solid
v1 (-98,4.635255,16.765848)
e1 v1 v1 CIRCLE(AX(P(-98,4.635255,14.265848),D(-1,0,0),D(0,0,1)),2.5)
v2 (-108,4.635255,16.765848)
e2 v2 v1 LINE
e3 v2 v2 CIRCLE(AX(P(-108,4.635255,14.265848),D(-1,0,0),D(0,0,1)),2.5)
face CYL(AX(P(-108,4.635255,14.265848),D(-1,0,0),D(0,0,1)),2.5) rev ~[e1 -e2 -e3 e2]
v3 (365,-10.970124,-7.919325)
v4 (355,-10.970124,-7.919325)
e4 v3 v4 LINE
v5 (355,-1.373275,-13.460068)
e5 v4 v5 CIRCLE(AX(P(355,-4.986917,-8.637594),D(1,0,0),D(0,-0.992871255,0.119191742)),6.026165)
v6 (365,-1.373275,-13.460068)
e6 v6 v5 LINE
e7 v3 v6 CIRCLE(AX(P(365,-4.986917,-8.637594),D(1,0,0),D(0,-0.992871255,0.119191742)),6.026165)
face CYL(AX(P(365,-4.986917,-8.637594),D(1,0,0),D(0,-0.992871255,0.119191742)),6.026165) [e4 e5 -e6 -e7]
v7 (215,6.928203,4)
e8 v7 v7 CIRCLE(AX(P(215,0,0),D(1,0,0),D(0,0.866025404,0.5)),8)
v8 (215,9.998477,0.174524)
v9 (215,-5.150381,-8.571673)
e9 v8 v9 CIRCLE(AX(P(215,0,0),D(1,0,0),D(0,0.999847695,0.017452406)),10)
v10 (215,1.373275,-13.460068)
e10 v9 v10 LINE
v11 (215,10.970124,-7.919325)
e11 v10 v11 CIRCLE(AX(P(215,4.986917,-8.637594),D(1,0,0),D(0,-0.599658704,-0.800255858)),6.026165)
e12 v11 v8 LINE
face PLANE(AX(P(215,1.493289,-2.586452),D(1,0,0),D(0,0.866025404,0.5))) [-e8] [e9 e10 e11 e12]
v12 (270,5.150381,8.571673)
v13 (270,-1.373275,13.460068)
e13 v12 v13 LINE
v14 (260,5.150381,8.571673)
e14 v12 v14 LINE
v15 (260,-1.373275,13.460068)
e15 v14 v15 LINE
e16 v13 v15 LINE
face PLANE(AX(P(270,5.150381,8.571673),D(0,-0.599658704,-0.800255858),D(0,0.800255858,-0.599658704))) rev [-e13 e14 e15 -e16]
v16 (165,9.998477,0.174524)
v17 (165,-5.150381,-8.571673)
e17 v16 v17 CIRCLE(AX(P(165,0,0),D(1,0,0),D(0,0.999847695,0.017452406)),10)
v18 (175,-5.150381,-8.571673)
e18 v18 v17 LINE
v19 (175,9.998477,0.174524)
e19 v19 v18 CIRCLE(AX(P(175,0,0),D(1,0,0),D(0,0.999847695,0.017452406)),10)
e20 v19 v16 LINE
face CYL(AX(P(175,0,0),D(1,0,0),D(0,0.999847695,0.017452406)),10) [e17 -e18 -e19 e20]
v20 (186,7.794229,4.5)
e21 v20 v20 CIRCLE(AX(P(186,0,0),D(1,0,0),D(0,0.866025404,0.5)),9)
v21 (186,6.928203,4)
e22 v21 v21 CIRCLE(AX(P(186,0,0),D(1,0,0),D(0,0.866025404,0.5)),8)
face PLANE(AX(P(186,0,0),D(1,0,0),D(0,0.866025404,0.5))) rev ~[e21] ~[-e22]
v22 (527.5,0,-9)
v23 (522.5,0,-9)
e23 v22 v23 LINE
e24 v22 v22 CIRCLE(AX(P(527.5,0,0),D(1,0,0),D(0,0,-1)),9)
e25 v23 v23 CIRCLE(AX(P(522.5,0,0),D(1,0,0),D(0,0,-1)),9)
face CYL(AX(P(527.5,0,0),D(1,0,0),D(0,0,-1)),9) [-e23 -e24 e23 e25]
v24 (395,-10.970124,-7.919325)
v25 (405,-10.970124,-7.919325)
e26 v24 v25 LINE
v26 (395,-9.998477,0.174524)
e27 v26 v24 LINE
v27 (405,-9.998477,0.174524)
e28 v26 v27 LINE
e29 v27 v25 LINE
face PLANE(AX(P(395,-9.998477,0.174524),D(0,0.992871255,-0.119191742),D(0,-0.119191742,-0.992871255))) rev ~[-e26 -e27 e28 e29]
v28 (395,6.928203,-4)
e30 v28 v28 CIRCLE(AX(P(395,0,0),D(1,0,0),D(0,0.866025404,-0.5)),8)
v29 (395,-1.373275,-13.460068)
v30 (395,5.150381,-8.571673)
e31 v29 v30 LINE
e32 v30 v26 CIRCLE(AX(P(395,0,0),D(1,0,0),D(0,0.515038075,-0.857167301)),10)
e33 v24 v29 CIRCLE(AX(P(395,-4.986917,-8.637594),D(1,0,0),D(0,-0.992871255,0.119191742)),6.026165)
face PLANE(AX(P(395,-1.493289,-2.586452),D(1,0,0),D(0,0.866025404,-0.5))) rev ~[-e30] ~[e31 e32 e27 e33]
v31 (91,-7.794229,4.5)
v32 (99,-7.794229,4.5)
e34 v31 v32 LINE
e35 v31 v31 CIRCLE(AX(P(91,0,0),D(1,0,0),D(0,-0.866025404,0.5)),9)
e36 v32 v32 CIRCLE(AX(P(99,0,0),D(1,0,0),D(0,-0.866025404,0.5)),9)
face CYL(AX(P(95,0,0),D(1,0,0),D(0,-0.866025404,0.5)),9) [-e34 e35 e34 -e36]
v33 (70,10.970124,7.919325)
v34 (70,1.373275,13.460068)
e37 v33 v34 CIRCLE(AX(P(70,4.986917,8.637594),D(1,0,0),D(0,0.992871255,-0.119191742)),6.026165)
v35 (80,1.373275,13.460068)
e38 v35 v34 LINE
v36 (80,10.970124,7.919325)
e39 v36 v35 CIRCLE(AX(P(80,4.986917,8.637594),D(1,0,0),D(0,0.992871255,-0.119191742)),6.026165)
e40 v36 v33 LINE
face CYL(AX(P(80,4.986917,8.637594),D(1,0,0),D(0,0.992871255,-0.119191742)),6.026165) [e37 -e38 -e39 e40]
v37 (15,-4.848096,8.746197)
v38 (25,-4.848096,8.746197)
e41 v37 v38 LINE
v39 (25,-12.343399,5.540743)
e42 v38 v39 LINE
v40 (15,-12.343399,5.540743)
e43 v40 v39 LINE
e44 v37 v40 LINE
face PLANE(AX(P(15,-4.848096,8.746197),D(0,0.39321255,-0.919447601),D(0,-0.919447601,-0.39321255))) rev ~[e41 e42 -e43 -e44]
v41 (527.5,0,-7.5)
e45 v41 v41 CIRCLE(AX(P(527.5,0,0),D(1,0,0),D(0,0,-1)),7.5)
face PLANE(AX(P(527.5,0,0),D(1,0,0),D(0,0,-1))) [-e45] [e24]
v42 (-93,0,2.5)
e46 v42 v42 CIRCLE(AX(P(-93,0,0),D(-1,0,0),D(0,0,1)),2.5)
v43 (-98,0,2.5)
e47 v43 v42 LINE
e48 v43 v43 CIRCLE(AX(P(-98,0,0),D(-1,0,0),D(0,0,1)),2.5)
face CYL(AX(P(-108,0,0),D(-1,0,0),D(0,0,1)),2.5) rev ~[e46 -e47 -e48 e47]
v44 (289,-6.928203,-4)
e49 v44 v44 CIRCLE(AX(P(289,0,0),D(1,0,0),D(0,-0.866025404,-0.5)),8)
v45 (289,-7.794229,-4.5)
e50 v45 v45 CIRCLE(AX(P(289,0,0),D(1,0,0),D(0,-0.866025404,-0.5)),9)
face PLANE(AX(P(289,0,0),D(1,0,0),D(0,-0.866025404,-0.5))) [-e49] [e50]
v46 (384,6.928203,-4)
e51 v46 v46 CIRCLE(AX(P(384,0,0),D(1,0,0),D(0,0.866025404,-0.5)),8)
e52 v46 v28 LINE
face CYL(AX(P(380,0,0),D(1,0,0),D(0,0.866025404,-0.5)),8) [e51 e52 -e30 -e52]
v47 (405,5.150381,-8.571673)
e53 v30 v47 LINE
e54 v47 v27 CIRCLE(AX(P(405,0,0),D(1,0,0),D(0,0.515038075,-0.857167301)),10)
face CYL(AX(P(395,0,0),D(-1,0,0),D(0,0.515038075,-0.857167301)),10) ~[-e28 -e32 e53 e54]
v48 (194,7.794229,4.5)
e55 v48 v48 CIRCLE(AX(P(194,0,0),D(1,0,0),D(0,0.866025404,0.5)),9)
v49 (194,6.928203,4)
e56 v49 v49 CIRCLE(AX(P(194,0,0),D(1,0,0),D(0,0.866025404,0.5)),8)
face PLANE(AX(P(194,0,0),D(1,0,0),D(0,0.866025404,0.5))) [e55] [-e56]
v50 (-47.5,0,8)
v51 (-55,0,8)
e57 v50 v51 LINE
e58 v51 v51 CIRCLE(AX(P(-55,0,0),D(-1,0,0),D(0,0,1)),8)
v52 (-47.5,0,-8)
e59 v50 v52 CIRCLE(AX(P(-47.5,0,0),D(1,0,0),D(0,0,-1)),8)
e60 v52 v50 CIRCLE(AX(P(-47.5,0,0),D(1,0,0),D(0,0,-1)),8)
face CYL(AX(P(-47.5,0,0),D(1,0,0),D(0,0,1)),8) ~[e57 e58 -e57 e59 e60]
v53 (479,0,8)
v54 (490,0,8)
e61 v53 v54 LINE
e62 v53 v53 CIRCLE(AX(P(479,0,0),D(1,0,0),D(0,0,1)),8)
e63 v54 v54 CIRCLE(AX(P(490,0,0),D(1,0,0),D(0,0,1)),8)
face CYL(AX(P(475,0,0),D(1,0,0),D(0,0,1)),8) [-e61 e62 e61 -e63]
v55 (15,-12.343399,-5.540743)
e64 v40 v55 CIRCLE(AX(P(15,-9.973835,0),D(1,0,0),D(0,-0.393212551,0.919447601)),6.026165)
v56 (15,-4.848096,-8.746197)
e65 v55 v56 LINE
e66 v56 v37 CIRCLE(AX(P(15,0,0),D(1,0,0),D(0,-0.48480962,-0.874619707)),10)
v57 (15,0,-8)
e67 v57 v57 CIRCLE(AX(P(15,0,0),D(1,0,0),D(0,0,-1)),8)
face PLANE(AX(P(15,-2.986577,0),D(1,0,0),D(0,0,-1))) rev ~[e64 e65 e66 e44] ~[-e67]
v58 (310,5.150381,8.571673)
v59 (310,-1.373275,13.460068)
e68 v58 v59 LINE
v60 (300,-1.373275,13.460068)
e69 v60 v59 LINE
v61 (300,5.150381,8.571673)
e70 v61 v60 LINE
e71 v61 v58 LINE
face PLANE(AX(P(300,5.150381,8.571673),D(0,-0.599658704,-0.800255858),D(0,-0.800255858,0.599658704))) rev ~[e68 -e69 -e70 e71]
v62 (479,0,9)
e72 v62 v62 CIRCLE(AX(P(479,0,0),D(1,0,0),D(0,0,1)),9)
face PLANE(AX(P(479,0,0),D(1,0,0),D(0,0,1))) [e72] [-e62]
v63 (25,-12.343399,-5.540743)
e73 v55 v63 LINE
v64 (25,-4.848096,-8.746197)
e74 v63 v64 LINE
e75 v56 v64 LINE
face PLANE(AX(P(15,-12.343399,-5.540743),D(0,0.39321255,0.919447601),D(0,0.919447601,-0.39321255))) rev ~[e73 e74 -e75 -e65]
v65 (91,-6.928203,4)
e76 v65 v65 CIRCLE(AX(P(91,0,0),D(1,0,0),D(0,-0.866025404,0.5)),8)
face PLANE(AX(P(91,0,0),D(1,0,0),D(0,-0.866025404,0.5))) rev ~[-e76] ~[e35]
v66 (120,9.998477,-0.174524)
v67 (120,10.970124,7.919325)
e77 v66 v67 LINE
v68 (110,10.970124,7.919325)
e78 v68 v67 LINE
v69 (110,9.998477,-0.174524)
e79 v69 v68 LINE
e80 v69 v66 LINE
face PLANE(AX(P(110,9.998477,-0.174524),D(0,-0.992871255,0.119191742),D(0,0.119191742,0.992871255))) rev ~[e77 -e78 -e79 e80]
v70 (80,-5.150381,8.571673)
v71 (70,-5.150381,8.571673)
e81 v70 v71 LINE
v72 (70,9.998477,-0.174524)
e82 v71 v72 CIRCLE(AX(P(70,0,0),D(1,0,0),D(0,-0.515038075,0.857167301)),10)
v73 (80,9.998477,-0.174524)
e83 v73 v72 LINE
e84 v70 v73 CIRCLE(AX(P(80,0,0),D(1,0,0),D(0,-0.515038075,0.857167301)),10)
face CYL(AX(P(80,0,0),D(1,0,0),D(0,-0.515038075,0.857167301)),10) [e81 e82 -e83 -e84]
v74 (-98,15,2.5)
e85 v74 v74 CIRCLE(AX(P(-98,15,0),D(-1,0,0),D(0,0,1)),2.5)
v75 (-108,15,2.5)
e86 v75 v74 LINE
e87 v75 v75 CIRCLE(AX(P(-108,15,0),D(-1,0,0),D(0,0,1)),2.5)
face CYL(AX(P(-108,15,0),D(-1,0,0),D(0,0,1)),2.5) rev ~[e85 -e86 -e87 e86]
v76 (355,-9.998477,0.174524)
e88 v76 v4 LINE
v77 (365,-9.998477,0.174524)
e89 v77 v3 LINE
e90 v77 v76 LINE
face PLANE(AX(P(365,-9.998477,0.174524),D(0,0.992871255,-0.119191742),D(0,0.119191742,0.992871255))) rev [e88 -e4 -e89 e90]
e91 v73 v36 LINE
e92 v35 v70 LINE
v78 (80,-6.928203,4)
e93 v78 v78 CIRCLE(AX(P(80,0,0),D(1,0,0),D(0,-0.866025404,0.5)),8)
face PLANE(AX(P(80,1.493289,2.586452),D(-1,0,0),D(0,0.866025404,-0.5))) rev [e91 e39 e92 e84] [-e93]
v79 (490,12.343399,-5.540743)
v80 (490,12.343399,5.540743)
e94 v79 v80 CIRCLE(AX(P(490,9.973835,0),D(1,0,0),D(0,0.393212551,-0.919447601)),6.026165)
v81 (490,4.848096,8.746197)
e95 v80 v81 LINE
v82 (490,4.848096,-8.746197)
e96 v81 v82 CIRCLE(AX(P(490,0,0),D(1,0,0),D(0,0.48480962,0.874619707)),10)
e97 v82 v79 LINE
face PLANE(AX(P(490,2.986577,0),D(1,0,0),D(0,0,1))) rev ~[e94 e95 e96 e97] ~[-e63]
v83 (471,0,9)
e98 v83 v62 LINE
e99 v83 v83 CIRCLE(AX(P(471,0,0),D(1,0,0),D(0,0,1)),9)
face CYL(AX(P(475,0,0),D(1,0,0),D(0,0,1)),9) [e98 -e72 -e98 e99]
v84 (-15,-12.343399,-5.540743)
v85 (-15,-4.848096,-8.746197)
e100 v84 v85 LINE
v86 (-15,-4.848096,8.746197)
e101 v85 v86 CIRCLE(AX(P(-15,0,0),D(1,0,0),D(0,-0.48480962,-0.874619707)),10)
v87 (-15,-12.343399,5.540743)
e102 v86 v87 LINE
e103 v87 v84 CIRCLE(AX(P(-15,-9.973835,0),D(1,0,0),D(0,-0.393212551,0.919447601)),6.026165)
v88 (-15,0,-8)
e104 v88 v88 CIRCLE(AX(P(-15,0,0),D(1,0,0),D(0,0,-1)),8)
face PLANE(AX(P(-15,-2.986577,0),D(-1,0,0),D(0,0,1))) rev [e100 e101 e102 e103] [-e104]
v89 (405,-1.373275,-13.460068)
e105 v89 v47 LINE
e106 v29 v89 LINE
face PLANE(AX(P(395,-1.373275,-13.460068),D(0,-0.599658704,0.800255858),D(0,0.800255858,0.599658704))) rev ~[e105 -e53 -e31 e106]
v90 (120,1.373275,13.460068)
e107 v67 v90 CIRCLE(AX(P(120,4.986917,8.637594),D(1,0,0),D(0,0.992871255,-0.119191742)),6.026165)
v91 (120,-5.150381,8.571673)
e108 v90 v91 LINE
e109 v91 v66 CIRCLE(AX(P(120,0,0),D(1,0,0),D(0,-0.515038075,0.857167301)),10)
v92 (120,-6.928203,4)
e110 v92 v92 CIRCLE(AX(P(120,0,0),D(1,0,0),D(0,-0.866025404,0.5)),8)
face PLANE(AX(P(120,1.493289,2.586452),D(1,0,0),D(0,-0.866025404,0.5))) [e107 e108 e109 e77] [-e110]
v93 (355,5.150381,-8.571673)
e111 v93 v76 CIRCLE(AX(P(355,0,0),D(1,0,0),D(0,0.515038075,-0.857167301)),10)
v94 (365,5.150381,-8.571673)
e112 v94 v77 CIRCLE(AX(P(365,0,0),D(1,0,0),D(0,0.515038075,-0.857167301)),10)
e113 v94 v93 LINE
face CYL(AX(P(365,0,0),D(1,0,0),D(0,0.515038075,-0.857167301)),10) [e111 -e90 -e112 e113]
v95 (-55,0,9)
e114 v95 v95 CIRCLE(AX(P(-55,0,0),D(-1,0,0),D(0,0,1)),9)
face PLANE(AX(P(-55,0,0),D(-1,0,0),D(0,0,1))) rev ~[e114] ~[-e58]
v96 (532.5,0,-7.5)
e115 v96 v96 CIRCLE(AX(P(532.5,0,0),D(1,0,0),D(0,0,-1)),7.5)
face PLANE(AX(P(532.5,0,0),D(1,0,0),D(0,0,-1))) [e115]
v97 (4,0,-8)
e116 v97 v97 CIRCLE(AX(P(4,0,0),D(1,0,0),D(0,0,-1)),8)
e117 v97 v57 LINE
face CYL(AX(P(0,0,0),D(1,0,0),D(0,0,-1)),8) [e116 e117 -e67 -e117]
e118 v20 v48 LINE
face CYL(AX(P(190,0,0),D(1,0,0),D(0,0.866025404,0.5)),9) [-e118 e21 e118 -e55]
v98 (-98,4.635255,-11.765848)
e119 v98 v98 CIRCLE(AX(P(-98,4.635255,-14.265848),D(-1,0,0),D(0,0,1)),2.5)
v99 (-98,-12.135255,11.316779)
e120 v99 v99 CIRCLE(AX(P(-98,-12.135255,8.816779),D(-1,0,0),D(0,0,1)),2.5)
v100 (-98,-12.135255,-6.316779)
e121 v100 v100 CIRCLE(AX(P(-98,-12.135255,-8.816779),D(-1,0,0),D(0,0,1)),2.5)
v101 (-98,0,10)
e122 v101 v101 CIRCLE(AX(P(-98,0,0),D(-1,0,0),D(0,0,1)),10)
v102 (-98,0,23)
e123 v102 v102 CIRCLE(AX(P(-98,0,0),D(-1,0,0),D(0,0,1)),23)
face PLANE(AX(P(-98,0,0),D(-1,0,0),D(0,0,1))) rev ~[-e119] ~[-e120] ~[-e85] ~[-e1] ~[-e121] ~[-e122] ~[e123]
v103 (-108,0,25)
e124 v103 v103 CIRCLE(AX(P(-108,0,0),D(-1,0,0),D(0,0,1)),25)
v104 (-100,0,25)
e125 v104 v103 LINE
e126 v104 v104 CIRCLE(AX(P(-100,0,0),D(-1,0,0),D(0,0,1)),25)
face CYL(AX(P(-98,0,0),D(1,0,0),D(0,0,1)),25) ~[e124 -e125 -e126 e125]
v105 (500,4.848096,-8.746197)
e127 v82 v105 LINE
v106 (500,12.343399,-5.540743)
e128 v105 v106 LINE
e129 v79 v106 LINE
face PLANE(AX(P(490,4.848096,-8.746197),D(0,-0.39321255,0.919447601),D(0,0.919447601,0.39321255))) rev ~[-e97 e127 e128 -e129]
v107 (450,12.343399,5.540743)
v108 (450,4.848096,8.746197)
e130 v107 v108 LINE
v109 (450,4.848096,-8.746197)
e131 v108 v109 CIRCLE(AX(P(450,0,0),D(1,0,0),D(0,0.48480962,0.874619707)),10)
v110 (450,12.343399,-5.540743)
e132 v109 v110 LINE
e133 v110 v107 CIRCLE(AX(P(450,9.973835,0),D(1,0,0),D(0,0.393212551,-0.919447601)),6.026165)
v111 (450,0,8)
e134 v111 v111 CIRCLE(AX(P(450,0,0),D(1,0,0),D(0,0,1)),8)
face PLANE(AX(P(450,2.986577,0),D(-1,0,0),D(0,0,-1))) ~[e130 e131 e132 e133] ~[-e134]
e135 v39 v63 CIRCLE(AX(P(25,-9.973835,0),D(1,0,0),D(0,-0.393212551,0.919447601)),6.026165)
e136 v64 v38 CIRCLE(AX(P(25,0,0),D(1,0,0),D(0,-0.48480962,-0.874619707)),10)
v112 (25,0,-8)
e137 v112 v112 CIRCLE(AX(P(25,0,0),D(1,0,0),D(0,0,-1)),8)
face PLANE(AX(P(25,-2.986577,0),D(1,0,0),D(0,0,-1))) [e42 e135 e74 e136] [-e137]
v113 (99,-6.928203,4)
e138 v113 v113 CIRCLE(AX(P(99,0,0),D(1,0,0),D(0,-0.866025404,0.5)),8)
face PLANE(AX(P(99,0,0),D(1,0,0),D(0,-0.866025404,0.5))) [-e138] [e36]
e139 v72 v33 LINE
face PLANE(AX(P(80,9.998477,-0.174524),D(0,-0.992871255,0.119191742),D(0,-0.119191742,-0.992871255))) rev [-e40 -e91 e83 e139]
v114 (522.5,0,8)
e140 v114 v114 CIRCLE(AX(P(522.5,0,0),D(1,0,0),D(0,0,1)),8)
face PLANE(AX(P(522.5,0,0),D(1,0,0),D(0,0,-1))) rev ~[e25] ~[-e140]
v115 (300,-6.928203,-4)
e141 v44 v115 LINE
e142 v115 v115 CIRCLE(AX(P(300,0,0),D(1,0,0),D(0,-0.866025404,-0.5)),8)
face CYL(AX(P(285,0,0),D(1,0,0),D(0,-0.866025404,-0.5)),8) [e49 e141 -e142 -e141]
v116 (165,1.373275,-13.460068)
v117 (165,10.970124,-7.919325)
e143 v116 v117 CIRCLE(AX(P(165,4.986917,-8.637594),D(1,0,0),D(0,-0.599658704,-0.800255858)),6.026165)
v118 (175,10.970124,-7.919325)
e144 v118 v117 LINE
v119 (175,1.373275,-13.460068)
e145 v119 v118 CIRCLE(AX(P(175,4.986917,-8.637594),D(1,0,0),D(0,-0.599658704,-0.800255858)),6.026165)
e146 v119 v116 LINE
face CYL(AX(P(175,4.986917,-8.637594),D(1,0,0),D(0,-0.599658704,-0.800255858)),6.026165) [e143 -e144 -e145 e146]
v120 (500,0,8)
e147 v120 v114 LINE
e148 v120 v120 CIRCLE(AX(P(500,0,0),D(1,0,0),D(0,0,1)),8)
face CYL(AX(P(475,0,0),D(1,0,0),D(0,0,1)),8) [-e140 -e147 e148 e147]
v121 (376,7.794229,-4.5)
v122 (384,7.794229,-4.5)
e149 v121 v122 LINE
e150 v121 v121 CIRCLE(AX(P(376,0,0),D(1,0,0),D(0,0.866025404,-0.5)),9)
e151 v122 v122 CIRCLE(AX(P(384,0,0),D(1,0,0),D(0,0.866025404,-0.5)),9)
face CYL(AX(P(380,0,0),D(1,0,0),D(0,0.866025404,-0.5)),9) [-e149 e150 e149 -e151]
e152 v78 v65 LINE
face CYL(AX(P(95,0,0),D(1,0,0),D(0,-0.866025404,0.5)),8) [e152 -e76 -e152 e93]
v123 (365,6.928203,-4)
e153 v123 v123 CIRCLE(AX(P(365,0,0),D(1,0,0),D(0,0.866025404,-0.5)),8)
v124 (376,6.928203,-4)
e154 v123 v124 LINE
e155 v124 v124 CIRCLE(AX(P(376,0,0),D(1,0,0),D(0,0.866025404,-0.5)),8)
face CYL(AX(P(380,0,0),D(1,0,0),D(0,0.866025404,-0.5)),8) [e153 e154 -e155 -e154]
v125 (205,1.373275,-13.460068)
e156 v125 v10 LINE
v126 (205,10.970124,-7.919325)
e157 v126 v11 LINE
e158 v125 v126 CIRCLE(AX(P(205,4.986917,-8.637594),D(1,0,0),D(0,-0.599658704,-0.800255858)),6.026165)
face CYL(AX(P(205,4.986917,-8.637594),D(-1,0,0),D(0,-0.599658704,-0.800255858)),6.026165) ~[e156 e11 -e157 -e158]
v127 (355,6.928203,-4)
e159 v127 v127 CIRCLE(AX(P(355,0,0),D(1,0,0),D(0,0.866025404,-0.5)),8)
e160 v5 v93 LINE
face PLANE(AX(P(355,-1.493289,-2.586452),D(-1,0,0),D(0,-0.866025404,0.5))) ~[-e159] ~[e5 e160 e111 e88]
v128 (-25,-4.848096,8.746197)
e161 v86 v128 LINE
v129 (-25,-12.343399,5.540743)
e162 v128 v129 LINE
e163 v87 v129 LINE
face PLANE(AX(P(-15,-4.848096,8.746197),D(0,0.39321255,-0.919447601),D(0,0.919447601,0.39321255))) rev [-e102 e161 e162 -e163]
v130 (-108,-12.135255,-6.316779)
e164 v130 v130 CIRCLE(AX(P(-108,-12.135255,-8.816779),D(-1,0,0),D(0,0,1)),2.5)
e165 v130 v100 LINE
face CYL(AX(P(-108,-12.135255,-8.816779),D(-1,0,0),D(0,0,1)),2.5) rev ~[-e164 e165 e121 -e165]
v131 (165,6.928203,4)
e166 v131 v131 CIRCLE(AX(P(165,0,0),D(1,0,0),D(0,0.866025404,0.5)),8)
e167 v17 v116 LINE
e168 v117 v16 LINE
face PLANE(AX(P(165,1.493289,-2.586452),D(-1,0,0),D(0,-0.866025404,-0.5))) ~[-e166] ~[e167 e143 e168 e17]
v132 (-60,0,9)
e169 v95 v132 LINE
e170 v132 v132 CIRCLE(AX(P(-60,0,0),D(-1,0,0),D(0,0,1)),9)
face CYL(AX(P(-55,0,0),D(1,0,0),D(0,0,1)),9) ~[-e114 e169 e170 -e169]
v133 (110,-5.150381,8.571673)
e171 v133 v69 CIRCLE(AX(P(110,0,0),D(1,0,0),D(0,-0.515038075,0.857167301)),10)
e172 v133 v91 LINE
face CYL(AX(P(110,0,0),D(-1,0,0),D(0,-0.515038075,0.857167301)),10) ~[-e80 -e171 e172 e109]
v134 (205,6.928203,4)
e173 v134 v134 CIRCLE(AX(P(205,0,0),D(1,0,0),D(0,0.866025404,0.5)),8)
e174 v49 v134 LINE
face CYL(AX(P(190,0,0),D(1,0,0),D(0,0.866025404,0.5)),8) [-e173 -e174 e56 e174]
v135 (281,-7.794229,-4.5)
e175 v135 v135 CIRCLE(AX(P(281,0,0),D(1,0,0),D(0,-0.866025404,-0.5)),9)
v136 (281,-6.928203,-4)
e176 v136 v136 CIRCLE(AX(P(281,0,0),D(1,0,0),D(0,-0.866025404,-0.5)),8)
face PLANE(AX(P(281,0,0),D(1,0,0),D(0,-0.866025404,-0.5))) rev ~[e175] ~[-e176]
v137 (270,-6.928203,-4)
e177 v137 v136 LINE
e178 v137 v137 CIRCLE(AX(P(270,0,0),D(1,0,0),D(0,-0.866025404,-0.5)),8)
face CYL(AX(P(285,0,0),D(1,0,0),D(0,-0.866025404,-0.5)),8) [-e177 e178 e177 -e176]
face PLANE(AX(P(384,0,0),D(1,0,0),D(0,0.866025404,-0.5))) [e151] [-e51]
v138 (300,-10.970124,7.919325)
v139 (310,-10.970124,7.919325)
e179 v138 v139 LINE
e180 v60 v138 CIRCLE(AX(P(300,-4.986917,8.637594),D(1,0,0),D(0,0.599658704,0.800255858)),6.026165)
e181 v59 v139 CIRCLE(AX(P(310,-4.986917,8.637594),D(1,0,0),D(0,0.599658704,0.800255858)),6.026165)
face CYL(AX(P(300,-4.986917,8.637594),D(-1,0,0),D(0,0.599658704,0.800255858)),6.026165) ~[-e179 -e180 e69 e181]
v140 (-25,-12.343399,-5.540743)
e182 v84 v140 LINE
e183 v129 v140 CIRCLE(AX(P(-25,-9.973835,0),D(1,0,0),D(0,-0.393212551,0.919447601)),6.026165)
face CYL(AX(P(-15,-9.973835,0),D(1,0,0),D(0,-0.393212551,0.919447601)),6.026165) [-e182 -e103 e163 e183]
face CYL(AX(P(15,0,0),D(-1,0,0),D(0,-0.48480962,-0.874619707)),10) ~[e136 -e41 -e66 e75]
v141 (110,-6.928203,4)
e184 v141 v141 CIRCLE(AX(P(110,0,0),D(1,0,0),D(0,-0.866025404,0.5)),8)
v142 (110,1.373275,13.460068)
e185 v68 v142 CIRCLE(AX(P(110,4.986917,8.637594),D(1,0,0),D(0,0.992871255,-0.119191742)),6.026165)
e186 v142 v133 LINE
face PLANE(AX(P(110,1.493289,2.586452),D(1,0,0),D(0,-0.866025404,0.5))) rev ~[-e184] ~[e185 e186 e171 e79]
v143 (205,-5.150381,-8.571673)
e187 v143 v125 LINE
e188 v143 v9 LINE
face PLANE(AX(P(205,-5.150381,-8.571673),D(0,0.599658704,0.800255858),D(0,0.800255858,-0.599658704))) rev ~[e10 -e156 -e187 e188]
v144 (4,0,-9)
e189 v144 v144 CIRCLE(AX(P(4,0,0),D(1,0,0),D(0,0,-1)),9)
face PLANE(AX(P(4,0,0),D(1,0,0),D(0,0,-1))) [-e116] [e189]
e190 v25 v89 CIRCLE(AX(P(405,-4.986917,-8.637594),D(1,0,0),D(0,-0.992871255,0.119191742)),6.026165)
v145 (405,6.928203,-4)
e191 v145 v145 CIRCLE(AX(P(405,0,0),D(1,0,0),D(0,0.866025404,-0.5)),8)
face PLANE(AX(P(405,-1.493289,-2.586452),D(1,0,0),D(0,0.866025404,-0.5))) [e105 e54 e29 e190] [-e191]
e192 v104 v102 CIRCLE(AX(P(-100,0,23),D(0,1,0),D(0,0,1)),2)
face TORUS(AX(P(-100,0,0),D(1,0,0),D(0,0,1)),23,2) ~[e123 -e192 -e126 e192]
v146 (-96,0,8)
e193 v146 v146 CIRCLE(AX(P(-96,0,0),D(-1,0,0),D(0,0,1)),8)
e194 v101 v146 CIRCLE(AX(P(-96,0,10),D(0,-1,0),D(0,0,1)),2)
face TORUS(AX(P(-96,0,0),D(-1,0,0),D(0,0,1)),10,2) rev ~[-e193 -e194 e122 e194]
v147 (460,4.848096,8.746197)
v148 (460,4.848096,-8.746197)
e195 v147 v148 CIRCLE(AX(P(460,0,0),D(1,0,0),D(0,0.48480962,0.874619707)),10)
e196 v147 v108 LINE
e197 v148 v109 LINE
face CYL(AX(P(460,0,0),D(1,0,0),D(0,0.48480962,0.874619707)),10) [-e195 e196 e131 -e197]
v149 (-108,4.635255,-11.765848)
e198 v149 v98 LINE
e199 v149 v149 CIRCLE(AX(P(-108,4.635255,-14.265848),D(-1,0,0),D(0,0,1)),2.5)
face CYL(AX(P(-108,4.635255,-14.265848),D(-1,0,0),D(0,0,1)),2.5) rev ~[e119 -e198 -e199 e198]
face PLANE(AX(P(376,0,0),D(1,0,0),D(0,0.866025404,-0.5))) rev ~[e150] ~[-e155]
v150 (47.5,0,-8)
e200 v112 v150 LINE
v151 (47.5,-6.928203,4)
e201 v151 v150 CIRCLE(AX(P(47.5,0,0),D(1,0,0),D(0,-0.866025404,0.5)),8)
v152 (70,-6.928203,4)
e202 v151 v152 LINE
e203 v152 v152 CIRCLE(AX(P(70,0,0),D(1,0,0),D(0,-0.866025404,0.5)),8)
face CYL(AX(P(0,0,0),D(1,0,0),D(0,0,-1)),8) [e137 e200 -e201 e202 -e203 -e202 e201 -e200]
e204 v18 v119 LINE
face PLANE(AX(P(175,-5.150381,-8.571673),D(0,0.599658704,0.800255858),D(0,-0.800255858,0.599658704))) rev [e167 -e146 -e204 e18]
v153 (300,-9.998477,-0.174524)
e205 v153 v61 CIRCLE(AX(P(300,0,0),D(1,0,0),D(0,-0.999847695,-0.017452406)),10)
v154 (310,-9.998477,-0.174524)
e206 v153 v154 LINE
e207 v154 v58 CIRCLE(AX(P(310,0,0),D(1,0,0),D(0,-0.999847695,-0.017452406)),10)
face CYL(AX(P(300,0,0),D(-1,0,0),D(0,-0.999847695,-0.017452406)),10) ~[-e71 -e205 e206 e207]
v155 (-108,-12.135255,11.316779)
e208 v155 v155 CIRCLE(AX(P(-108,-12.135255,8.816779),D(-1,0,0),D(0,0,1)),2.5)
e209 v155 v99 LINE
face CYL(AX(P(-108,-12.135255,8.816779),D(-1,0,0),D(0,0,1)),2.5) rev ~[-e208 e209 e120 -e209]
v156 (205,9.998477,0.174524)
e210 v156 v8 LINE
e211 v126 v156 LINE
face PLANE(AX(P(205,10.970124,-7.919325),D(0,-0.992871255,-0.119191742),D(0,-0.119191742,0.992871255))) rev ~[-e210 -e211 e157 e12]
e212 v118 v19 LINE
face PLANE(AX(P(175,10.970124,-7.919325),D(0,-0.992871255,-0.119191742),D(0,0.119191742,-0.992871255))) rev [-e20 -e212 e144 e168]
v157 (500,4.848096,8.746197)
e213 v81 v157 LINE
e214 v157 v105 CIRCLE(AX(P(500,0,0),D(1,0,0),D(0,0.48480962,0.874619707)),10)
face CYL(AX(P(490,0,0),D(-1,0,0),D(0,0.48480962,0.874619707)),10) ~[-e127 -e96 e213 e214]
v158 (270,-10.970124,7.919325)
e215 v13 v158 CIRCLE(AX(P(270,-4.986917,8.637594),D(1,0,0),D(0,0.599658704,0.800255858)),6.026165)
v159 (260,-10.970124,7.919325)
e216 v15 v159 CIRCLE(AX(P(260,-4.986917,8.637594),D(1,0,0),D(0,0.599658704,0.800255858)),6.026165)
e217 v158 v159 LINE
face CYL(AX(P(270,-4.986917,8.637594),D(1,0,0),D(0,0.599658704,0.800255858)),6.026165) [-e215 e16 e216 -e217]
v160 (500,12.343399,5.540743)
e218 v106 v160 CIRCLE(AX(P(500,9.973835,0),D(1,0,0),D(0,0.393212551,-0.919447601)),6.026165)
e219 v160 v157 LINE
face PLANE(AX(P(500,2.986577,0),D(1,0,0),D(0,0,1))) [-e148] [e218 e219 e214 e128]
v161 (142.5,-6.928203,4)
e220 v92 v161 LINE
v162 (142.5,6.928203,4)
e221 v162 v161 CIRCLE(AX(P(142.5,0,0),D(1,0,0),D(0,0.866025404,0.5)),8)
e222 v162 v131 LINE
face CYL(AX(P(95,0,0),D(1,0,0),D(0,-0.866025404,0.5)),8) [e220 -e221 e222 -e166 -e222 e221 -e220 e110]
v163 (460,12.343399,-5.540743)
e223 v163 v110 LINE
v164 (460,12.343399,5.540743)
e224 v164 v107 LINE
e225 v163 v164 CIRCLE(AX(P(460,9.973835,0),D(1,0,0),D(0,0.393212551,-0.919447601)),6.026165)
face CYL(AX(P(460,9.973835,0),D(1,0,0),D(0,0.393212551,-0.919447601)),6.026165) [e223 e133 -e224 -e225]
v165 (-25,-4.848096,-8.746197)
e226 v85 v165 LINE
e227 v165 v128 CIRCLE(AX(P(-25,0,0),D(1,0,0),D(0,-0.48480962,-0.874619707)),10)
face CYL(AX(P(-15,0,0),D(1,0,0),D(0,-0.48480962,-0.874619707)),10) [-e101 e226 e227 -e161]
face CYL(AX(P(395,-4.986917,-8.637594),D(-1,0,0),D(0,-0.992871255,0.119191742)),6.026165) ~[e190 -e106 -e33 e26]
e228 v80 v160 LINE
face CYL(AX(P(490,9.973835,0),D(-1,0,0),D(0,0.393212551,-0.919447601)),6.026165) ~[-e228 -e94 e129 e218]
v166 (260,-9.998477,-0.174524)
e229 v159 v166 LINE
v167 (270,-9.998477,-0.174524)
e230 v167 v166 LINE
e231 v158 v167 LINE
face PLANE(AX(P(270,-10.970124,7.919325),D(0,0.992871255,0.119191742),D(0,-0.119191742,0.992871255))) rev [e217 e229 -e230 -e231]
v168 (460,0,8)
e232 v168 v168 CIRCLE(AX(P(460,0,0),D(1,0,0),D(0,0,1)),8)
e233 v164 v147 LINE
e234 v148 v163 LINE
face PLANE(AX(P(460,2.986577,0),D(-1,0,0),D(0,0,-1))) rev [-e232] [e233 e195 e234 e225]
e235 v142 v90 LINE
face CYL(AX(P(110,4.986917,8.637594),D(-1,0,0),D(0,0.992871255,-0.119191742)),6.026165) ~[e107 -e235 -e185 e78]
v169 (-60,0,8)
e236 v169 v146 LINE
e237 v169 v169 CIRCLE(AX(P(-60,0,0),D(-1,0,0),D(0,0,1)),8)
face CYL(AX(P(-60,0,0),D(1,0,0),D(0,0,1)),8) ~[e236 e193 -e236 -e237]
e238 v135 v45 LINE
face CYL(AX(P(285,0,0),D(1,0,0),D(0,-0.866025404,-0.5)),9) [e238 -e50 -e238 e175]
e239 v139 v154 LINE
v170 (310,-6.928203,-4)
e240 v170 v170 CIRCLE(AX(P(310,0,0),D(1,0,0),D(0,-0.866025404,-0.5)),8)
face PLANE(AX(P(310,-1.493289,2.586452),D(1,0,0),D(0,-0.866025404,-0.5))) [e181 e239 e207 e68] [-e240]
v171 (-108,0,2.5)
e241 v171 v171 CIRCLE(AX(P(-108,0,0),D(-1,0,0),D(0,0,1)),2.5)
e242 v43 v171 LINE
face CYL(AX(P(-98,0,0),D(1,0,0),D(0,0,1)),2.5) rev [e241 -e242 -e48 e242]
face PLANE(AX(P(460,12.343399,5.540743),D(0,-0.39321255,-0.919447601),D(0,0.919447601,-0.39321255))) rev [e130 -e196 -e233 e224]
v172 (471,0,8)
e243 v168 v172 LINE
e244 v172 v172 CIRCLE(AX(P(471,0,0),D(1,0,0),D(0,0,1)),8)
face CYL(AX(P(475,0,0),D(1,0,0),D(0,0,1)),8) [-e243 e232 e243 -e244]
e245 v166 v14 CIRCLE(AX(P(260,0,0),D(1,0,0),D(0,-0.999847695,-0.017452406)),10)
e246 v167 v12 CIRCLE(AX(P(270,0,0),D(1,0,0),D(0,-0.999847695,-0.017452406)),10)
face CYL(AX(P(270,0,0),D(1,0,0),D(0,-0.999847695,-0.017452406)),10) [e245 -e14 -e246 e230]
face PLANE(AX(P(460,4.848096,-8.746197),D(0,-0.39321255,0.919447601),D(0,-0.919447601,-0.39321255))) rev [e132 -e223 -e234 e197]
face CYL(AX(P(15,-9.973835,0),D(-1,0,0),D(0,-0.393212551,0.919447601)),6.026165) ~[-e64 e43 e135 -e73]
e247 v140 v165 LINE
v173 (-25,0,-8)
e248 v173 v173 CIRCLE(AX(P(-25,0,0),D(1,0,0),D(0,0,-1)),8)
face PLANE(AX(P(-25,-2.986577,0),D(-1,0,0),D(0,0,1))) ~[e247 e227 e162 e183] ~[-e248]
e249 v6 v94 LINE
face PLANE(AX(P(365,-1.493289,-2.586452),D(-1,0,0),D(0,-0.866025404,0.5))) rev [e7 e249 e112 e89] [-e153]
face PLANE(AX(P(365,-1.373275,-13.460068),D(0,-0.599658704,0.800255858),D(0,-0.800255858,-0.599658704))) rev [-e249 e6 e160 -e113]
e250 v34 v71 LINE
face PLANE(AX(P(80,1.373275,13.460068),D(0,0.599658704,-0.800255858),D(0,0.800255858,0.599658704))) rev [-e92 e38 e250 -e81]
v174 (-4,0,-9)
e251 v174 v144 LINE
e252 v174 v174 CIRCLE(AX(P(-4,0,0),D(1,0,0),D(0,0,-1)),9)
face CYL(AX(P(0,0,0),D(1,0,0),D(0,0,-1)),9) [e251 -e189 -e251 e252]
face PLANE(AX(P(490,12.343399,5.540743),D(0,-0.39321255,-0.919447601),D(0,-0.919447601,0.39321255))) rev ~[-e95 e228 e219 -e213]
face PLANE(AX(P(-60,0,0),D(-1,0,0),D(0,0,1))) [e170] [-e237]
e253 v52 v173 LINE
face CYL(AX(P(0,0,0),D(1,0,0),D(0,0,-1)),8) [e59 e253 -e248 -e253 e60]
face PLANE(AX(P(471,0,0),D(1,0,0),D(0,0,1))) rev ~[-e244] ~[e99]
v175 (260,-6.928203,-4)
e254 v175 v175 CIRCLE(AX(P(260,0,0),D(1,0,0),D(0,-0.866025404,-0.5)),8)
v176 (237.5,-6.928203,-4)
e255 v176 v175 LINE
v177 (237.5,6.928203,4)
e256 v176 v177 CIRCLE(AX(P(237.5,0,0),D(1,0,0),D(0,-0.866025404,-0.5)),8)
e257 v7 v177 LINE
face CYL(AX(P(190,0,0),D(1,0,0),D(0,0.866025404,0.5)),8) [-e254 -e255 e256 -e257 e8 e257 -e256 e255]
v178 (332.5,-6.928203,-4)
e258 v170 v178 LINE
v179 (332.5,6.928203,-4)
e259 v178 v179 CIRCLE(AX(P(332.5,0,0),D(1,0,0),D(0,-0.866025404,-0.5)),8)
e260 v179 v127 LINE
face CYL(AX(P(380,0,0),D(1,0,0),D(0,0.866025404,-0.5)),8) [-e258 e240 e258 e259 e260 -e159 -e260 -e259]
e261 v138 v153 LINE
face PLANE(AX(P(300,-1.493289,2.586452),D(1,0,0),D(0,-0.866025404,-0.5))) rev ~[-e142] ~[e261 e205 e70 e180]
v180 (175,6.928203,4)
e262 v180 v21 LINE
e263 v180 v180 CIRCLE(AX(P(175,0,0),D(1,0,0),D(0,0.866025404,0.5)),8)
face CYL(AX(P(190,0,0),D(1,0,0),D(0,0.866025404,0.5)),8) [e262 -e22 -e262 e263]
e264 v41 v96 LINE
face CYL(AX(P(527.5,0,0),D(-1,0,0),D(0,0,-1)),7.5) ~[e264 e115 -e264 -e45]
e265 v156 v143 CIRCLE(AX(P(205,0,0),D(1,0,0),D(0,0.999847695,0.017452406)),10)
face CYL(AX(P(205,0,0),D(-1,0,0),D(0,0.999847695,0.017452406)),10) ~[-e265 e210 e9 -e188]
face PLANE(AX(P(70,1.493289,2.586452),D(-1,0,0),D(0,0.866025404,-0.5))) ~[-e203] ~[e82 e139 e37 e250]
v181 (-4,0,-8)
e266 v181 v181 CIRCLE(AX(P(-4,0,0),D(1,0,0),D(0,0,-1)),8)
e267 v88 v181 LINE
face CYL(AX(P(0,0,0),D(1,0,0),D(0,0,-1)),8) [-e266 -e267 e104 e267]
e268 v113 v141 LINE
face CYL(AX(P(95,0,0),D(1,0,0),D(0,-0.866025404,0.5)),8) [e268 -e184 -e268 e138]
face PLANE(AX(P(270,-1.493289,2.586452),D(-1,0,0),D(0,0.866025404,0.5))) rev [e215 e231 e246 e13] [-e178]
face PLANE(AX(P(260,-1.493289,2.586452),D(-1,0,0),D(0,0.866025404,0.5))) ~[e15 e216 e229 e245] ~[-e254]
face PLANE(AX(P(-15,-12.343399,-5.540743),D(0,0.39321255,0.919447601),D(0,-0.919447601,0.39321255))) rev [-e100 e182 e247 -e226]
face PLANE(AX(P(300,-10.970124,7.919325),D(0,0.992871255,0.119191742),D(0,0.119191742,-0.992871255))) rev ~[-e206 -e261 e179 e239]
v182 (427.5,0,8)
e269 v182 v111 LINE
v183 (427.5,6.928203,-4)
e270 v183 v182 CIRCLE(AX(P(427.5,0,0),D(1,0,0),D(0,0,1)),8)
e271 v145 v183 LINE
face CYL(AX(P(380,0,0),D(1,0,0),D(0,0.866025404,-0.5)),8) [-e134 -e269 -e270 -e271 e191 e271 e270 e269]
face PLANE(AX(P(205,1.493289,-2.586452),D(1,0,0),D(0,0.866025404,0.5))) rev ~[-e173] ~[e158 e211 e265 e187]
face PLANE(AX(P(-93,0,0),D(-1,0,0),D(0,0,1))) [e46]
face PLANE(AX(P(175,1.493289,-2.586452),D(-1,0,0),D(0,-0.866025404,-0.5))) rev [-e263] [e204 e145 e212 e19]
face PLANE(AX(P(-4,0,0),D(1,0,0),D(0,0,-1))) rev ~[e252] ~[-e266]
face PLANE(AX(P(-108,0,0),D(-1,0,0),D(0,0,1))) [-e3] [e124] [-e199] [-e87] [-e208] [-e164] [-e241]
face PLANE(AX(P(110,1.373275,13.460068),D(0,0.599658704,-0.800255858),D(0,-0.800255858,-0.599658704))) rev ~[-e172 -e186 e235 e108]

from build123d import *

# Parameters (mm, degrees)
SKETCH1_R             = 8
BOSS_EXTRUDE1_DEPTH   = 47.5
BOSS_EXTRUDE2_START   = 15
BOSS_EXTRUDE2_DEPTH   = 10
SKETCH3_R             = 9
BOSS_EXTRUDE3_DEPTH   = 4
LPATTERN1_COUNT       = 6
LPATTERN1_PITCH       = 95
BODY_MOVE_COPY1_ANGLE = 60
BODY_MOVE_COPY3_ANGLE = 120
BODY_MOVE_COPY4_ANGLE = 60
BODY_MOVE_COPY5_ANGLE = 120
BODY_MOVE_COPY6_ANGLE = 180
BOSS_EXTRUDE4_START   = 5
SKETCH4_R             = 9
BOSS_EXTRUDE4_DEPTH   = 5
SKETCH5_R             = 7.5
BOSS_EXTRUDE5_DEPTH   = 5
SKETCH6_R             = 8
BOSS_EXTRUDE6_DEPTH   = 7.5
SKETCH7_R             = 9
BOSS_EXTRUDE7_DEPTH   = 5
SKETCH8_R             = 8
BOSS_EXTRUDE8_DEPTH   = 38
SKETCH10_R            = 25
SKETCH10_R_2          = 2.5
BOSS_EXTRUDE9_DEPTH   = 10
SKETCH11_R            = 2.5
CUT_EXTRUDE1_DEPTH    = 15
FILLET1_R             = 2


with BuildPart() as part:
    # Sketch1 → Boss-Extrude1 (new, symmetric)
    with BuildSketch(Plane(origin=(0, 0, 0), x_dir=(0, 0, -1), z_dir=(1, 0, 0))):
        Circle(SKETCH1_R)
    extrude(amount=BOSS_EXTRUDE1_DEPTH, both=True)

    # Sketch2 → Boss-Extrude2 (add)
    with BuildSketch(Plane(origin=(0, 0, 0), x_dir=(0, 0, -1), z_dir=(1, 0, 0)).offset(BOSS_EXTRUDE2_START)):
        with BuildLine():
            Line((-8.746197071, -4.848096202), (-5.540743078, -12.343398625))
            ThreePointArc((-5.540743078, -12.343398625), (0, -16), (5.540743078, -12.343398625))
            Line((5.540743078, -12.343398625), (8.746197071, -4.848096202))
            ThreePointArc((8.746197071, -4.848096202), (0, 10), (-8.746197071, -4.848096202))
        make_face()
    boss_extrude2 = extrude(amount=BOSS_EXTRUDE2_DEPTH)

    # Mirror1: Boss-Extrude2 across plane
    add(boss_extrude2.mirror(Plane(origin=(0, 0, 0), x_dir=(0, 0, 1), z_dir=(1, 0, 0))))

    # Sketch3 → Boss-Extrude3 (add, symmetric)
    with BuildSketch(Plane(origin=(0, 0, 0), x_dir=(0, 0, -1), z_dir=(1, 0, 0))):
        Circle(SKETCH3_R)
    extrude(amount=BOSS_EXTRUDE3_DEPTH, both=True)


with BuildPart() as lpattern1_1:
    # LPattern1: pattern copy
    add(part.part.moved(Location(Vector(1, 0, 0) * (1 * LPATTERN1_PITCH))))


with BuildPart() as lpattern1_2:
    # LPattern1: pattern copy
    add(part.part.moved(Location(Vector(1, 0, 0) * (2 * LPATTERN1_PITCH))))


with BuildPart() as lpattern1_3:
    # LPattern1: pattern copy
    add(part.part.moved(Location(Vector(1, 0, 0) * (3 * LPATTERN1_PITCH))))


with BuildPart() as lpattern1_4:
    # LPattern1: pattern copy
    add(part.part.moved(Location(Vector(1, 0, 0) * (4 * LPATTERN1_PITCH))))


with BuildPart() as lpattern1_5:
    # LPattern1: pattern copy
    add(part.part.moved(Location(Vector(1, 0, 0) * (5 * LPATTERN1_PITCH))))


with BuildPart() as lpattern1_3_1:
    # Body-Move/Copy1: moved
    add(lpattern1_3.part.rotate(Axis((0, 0, 0), (-1, 0, 0)), BODY_MOVE_COPY1_ANGLE))


with BuildPart() as lpattern1_1_1:
    # Body-Move/Copy3: moved
    add(lpattern1_1.part.rotate(Axis((0, 0, 0), (-1, 0, 0)), BODY_MOVE_COPY3_ANGLE))


with BuildPart() as lpattern1_4_1:
    # Body-Move/Copy4: moved
    add(lpattern1_4.part.rotate(Axis((0, 0, 0), (1, 0, 0)), BODY_MOVE_COPY4_ANGLE))


with BuildPart() as lpattern1_2_1:
    # Body-Move/Copy5: moved
    add(lpattern1_2.part.rotate(Axis((0, 0, 0), (1, 0, 0)), BODY_MOVE_COPY5_ANGLE))


with BuildPart() as lpattern1_5_1:
    # Body-Move/Copy6: moved
    add(lpattern1_5.part.rotate(Axis((0, 0, 0), (1, 0, 0)), BODY_MOVE_COPY6_ANGLE))

    # Sketch4 → Boss-Extrude4 (add)
    with BuildSketch(Plane(origin=(522.5, 0, 0), x_dir=(0, 0, -1), z_dir=(1, 0, 0)).offset(BOSS_EXTRUDE4_START)):
        Circle(SKETCH4_R)
    extrude(amount=-BOSS_EXTRUDE4_DEPTH)

    # Combine1: union LPattern1_3, LPattern1_4, LPattern1_2, LPattern1_1, part
    add(lpattern1_3_1.part)
    add(lpattern1_4_1.part)
    add(lpattern1_2_1.part)
    add(lpattern1_1_1.part)
    add(part.part)

    # Sketch5 → Boss-Extrude5 (add)
    with BuildSketch(Plane(origin=(527.5, 0, 0), x_dir=(0, 0, -1), z_dir=(1, 0, 0))):
        Circle(SKETCH5_R)
    extrude(amount=BOSS_EXTRUDE5_DEPTH)

    # Sketch6 → Boss-Extrude6 (add)
    with BuildSketch(Plane.ZY.offset(47.5)):
        Circle(SKETCH6_R)
    extrude(amount=BOSS_EXTRUDE6_DEPTH)

    # Sketch7 → Boss-Extrude7 (add)
    with BuildSketch(Plane.ZY.offset(55)):
        Circle(SKETCH7_R)
    extrude(amount=BOSS_EXTRUDE7_DEPTH)

    # Sketch8 → Boss-Extrude8 (add)
    with BuildSketch(Plane.ZY.offset(60)):
        Circle(SKETCH8_R)
    extrude(amount=BOSS_EXTRUDE8_DEPTH)

    # Sketch10 → Boss-Extrude9 (add)
    with BuildSketch(Plane.ZY.offset(98)):
        Circle(SKETCH10_R)
        Circle(SKETCH10_R_2, mode=Mode.SUBTRACT)
    extrude(amount=BOSS_EXTRUDE9_DEPTH)

    # Sketch11 → Cut-Extrude1 (cut)
    with BuildSketch(Plane.ZY.offset(108)):
        Circle(SKETCH11_R)
        with Locations((0, 15)):
            Circle(SKETCH11_R)
        with Locations((14.265847744, 4.635254916)):
            Circle(SKETCH11_R)
        with Locations((8.816778784, -12.135254916)):
            Circle(SKETCH11_R)
        with Locations((-8.816778784, -12.135254916)):
            Circle(SKETCH11_R)
        with Locations((-14.265847744, 4.635254916)):
            Circle(SKETCH11_R)
    extrude(amount=-CUT_EXTRUDE1_DEPTH, mode=Mode.SUBTRACT)

    # Fillet1
    fillet1_edges = [lpattern1_5_1.edges().sort_by_distance(p)[0] for p in [
        (-98, 0, -8),
        (-98, 0, -25),
    ]]
    fillet(fillet1_edges, radius=FILLET1_R)


solid = lpattern1_5_1.part
